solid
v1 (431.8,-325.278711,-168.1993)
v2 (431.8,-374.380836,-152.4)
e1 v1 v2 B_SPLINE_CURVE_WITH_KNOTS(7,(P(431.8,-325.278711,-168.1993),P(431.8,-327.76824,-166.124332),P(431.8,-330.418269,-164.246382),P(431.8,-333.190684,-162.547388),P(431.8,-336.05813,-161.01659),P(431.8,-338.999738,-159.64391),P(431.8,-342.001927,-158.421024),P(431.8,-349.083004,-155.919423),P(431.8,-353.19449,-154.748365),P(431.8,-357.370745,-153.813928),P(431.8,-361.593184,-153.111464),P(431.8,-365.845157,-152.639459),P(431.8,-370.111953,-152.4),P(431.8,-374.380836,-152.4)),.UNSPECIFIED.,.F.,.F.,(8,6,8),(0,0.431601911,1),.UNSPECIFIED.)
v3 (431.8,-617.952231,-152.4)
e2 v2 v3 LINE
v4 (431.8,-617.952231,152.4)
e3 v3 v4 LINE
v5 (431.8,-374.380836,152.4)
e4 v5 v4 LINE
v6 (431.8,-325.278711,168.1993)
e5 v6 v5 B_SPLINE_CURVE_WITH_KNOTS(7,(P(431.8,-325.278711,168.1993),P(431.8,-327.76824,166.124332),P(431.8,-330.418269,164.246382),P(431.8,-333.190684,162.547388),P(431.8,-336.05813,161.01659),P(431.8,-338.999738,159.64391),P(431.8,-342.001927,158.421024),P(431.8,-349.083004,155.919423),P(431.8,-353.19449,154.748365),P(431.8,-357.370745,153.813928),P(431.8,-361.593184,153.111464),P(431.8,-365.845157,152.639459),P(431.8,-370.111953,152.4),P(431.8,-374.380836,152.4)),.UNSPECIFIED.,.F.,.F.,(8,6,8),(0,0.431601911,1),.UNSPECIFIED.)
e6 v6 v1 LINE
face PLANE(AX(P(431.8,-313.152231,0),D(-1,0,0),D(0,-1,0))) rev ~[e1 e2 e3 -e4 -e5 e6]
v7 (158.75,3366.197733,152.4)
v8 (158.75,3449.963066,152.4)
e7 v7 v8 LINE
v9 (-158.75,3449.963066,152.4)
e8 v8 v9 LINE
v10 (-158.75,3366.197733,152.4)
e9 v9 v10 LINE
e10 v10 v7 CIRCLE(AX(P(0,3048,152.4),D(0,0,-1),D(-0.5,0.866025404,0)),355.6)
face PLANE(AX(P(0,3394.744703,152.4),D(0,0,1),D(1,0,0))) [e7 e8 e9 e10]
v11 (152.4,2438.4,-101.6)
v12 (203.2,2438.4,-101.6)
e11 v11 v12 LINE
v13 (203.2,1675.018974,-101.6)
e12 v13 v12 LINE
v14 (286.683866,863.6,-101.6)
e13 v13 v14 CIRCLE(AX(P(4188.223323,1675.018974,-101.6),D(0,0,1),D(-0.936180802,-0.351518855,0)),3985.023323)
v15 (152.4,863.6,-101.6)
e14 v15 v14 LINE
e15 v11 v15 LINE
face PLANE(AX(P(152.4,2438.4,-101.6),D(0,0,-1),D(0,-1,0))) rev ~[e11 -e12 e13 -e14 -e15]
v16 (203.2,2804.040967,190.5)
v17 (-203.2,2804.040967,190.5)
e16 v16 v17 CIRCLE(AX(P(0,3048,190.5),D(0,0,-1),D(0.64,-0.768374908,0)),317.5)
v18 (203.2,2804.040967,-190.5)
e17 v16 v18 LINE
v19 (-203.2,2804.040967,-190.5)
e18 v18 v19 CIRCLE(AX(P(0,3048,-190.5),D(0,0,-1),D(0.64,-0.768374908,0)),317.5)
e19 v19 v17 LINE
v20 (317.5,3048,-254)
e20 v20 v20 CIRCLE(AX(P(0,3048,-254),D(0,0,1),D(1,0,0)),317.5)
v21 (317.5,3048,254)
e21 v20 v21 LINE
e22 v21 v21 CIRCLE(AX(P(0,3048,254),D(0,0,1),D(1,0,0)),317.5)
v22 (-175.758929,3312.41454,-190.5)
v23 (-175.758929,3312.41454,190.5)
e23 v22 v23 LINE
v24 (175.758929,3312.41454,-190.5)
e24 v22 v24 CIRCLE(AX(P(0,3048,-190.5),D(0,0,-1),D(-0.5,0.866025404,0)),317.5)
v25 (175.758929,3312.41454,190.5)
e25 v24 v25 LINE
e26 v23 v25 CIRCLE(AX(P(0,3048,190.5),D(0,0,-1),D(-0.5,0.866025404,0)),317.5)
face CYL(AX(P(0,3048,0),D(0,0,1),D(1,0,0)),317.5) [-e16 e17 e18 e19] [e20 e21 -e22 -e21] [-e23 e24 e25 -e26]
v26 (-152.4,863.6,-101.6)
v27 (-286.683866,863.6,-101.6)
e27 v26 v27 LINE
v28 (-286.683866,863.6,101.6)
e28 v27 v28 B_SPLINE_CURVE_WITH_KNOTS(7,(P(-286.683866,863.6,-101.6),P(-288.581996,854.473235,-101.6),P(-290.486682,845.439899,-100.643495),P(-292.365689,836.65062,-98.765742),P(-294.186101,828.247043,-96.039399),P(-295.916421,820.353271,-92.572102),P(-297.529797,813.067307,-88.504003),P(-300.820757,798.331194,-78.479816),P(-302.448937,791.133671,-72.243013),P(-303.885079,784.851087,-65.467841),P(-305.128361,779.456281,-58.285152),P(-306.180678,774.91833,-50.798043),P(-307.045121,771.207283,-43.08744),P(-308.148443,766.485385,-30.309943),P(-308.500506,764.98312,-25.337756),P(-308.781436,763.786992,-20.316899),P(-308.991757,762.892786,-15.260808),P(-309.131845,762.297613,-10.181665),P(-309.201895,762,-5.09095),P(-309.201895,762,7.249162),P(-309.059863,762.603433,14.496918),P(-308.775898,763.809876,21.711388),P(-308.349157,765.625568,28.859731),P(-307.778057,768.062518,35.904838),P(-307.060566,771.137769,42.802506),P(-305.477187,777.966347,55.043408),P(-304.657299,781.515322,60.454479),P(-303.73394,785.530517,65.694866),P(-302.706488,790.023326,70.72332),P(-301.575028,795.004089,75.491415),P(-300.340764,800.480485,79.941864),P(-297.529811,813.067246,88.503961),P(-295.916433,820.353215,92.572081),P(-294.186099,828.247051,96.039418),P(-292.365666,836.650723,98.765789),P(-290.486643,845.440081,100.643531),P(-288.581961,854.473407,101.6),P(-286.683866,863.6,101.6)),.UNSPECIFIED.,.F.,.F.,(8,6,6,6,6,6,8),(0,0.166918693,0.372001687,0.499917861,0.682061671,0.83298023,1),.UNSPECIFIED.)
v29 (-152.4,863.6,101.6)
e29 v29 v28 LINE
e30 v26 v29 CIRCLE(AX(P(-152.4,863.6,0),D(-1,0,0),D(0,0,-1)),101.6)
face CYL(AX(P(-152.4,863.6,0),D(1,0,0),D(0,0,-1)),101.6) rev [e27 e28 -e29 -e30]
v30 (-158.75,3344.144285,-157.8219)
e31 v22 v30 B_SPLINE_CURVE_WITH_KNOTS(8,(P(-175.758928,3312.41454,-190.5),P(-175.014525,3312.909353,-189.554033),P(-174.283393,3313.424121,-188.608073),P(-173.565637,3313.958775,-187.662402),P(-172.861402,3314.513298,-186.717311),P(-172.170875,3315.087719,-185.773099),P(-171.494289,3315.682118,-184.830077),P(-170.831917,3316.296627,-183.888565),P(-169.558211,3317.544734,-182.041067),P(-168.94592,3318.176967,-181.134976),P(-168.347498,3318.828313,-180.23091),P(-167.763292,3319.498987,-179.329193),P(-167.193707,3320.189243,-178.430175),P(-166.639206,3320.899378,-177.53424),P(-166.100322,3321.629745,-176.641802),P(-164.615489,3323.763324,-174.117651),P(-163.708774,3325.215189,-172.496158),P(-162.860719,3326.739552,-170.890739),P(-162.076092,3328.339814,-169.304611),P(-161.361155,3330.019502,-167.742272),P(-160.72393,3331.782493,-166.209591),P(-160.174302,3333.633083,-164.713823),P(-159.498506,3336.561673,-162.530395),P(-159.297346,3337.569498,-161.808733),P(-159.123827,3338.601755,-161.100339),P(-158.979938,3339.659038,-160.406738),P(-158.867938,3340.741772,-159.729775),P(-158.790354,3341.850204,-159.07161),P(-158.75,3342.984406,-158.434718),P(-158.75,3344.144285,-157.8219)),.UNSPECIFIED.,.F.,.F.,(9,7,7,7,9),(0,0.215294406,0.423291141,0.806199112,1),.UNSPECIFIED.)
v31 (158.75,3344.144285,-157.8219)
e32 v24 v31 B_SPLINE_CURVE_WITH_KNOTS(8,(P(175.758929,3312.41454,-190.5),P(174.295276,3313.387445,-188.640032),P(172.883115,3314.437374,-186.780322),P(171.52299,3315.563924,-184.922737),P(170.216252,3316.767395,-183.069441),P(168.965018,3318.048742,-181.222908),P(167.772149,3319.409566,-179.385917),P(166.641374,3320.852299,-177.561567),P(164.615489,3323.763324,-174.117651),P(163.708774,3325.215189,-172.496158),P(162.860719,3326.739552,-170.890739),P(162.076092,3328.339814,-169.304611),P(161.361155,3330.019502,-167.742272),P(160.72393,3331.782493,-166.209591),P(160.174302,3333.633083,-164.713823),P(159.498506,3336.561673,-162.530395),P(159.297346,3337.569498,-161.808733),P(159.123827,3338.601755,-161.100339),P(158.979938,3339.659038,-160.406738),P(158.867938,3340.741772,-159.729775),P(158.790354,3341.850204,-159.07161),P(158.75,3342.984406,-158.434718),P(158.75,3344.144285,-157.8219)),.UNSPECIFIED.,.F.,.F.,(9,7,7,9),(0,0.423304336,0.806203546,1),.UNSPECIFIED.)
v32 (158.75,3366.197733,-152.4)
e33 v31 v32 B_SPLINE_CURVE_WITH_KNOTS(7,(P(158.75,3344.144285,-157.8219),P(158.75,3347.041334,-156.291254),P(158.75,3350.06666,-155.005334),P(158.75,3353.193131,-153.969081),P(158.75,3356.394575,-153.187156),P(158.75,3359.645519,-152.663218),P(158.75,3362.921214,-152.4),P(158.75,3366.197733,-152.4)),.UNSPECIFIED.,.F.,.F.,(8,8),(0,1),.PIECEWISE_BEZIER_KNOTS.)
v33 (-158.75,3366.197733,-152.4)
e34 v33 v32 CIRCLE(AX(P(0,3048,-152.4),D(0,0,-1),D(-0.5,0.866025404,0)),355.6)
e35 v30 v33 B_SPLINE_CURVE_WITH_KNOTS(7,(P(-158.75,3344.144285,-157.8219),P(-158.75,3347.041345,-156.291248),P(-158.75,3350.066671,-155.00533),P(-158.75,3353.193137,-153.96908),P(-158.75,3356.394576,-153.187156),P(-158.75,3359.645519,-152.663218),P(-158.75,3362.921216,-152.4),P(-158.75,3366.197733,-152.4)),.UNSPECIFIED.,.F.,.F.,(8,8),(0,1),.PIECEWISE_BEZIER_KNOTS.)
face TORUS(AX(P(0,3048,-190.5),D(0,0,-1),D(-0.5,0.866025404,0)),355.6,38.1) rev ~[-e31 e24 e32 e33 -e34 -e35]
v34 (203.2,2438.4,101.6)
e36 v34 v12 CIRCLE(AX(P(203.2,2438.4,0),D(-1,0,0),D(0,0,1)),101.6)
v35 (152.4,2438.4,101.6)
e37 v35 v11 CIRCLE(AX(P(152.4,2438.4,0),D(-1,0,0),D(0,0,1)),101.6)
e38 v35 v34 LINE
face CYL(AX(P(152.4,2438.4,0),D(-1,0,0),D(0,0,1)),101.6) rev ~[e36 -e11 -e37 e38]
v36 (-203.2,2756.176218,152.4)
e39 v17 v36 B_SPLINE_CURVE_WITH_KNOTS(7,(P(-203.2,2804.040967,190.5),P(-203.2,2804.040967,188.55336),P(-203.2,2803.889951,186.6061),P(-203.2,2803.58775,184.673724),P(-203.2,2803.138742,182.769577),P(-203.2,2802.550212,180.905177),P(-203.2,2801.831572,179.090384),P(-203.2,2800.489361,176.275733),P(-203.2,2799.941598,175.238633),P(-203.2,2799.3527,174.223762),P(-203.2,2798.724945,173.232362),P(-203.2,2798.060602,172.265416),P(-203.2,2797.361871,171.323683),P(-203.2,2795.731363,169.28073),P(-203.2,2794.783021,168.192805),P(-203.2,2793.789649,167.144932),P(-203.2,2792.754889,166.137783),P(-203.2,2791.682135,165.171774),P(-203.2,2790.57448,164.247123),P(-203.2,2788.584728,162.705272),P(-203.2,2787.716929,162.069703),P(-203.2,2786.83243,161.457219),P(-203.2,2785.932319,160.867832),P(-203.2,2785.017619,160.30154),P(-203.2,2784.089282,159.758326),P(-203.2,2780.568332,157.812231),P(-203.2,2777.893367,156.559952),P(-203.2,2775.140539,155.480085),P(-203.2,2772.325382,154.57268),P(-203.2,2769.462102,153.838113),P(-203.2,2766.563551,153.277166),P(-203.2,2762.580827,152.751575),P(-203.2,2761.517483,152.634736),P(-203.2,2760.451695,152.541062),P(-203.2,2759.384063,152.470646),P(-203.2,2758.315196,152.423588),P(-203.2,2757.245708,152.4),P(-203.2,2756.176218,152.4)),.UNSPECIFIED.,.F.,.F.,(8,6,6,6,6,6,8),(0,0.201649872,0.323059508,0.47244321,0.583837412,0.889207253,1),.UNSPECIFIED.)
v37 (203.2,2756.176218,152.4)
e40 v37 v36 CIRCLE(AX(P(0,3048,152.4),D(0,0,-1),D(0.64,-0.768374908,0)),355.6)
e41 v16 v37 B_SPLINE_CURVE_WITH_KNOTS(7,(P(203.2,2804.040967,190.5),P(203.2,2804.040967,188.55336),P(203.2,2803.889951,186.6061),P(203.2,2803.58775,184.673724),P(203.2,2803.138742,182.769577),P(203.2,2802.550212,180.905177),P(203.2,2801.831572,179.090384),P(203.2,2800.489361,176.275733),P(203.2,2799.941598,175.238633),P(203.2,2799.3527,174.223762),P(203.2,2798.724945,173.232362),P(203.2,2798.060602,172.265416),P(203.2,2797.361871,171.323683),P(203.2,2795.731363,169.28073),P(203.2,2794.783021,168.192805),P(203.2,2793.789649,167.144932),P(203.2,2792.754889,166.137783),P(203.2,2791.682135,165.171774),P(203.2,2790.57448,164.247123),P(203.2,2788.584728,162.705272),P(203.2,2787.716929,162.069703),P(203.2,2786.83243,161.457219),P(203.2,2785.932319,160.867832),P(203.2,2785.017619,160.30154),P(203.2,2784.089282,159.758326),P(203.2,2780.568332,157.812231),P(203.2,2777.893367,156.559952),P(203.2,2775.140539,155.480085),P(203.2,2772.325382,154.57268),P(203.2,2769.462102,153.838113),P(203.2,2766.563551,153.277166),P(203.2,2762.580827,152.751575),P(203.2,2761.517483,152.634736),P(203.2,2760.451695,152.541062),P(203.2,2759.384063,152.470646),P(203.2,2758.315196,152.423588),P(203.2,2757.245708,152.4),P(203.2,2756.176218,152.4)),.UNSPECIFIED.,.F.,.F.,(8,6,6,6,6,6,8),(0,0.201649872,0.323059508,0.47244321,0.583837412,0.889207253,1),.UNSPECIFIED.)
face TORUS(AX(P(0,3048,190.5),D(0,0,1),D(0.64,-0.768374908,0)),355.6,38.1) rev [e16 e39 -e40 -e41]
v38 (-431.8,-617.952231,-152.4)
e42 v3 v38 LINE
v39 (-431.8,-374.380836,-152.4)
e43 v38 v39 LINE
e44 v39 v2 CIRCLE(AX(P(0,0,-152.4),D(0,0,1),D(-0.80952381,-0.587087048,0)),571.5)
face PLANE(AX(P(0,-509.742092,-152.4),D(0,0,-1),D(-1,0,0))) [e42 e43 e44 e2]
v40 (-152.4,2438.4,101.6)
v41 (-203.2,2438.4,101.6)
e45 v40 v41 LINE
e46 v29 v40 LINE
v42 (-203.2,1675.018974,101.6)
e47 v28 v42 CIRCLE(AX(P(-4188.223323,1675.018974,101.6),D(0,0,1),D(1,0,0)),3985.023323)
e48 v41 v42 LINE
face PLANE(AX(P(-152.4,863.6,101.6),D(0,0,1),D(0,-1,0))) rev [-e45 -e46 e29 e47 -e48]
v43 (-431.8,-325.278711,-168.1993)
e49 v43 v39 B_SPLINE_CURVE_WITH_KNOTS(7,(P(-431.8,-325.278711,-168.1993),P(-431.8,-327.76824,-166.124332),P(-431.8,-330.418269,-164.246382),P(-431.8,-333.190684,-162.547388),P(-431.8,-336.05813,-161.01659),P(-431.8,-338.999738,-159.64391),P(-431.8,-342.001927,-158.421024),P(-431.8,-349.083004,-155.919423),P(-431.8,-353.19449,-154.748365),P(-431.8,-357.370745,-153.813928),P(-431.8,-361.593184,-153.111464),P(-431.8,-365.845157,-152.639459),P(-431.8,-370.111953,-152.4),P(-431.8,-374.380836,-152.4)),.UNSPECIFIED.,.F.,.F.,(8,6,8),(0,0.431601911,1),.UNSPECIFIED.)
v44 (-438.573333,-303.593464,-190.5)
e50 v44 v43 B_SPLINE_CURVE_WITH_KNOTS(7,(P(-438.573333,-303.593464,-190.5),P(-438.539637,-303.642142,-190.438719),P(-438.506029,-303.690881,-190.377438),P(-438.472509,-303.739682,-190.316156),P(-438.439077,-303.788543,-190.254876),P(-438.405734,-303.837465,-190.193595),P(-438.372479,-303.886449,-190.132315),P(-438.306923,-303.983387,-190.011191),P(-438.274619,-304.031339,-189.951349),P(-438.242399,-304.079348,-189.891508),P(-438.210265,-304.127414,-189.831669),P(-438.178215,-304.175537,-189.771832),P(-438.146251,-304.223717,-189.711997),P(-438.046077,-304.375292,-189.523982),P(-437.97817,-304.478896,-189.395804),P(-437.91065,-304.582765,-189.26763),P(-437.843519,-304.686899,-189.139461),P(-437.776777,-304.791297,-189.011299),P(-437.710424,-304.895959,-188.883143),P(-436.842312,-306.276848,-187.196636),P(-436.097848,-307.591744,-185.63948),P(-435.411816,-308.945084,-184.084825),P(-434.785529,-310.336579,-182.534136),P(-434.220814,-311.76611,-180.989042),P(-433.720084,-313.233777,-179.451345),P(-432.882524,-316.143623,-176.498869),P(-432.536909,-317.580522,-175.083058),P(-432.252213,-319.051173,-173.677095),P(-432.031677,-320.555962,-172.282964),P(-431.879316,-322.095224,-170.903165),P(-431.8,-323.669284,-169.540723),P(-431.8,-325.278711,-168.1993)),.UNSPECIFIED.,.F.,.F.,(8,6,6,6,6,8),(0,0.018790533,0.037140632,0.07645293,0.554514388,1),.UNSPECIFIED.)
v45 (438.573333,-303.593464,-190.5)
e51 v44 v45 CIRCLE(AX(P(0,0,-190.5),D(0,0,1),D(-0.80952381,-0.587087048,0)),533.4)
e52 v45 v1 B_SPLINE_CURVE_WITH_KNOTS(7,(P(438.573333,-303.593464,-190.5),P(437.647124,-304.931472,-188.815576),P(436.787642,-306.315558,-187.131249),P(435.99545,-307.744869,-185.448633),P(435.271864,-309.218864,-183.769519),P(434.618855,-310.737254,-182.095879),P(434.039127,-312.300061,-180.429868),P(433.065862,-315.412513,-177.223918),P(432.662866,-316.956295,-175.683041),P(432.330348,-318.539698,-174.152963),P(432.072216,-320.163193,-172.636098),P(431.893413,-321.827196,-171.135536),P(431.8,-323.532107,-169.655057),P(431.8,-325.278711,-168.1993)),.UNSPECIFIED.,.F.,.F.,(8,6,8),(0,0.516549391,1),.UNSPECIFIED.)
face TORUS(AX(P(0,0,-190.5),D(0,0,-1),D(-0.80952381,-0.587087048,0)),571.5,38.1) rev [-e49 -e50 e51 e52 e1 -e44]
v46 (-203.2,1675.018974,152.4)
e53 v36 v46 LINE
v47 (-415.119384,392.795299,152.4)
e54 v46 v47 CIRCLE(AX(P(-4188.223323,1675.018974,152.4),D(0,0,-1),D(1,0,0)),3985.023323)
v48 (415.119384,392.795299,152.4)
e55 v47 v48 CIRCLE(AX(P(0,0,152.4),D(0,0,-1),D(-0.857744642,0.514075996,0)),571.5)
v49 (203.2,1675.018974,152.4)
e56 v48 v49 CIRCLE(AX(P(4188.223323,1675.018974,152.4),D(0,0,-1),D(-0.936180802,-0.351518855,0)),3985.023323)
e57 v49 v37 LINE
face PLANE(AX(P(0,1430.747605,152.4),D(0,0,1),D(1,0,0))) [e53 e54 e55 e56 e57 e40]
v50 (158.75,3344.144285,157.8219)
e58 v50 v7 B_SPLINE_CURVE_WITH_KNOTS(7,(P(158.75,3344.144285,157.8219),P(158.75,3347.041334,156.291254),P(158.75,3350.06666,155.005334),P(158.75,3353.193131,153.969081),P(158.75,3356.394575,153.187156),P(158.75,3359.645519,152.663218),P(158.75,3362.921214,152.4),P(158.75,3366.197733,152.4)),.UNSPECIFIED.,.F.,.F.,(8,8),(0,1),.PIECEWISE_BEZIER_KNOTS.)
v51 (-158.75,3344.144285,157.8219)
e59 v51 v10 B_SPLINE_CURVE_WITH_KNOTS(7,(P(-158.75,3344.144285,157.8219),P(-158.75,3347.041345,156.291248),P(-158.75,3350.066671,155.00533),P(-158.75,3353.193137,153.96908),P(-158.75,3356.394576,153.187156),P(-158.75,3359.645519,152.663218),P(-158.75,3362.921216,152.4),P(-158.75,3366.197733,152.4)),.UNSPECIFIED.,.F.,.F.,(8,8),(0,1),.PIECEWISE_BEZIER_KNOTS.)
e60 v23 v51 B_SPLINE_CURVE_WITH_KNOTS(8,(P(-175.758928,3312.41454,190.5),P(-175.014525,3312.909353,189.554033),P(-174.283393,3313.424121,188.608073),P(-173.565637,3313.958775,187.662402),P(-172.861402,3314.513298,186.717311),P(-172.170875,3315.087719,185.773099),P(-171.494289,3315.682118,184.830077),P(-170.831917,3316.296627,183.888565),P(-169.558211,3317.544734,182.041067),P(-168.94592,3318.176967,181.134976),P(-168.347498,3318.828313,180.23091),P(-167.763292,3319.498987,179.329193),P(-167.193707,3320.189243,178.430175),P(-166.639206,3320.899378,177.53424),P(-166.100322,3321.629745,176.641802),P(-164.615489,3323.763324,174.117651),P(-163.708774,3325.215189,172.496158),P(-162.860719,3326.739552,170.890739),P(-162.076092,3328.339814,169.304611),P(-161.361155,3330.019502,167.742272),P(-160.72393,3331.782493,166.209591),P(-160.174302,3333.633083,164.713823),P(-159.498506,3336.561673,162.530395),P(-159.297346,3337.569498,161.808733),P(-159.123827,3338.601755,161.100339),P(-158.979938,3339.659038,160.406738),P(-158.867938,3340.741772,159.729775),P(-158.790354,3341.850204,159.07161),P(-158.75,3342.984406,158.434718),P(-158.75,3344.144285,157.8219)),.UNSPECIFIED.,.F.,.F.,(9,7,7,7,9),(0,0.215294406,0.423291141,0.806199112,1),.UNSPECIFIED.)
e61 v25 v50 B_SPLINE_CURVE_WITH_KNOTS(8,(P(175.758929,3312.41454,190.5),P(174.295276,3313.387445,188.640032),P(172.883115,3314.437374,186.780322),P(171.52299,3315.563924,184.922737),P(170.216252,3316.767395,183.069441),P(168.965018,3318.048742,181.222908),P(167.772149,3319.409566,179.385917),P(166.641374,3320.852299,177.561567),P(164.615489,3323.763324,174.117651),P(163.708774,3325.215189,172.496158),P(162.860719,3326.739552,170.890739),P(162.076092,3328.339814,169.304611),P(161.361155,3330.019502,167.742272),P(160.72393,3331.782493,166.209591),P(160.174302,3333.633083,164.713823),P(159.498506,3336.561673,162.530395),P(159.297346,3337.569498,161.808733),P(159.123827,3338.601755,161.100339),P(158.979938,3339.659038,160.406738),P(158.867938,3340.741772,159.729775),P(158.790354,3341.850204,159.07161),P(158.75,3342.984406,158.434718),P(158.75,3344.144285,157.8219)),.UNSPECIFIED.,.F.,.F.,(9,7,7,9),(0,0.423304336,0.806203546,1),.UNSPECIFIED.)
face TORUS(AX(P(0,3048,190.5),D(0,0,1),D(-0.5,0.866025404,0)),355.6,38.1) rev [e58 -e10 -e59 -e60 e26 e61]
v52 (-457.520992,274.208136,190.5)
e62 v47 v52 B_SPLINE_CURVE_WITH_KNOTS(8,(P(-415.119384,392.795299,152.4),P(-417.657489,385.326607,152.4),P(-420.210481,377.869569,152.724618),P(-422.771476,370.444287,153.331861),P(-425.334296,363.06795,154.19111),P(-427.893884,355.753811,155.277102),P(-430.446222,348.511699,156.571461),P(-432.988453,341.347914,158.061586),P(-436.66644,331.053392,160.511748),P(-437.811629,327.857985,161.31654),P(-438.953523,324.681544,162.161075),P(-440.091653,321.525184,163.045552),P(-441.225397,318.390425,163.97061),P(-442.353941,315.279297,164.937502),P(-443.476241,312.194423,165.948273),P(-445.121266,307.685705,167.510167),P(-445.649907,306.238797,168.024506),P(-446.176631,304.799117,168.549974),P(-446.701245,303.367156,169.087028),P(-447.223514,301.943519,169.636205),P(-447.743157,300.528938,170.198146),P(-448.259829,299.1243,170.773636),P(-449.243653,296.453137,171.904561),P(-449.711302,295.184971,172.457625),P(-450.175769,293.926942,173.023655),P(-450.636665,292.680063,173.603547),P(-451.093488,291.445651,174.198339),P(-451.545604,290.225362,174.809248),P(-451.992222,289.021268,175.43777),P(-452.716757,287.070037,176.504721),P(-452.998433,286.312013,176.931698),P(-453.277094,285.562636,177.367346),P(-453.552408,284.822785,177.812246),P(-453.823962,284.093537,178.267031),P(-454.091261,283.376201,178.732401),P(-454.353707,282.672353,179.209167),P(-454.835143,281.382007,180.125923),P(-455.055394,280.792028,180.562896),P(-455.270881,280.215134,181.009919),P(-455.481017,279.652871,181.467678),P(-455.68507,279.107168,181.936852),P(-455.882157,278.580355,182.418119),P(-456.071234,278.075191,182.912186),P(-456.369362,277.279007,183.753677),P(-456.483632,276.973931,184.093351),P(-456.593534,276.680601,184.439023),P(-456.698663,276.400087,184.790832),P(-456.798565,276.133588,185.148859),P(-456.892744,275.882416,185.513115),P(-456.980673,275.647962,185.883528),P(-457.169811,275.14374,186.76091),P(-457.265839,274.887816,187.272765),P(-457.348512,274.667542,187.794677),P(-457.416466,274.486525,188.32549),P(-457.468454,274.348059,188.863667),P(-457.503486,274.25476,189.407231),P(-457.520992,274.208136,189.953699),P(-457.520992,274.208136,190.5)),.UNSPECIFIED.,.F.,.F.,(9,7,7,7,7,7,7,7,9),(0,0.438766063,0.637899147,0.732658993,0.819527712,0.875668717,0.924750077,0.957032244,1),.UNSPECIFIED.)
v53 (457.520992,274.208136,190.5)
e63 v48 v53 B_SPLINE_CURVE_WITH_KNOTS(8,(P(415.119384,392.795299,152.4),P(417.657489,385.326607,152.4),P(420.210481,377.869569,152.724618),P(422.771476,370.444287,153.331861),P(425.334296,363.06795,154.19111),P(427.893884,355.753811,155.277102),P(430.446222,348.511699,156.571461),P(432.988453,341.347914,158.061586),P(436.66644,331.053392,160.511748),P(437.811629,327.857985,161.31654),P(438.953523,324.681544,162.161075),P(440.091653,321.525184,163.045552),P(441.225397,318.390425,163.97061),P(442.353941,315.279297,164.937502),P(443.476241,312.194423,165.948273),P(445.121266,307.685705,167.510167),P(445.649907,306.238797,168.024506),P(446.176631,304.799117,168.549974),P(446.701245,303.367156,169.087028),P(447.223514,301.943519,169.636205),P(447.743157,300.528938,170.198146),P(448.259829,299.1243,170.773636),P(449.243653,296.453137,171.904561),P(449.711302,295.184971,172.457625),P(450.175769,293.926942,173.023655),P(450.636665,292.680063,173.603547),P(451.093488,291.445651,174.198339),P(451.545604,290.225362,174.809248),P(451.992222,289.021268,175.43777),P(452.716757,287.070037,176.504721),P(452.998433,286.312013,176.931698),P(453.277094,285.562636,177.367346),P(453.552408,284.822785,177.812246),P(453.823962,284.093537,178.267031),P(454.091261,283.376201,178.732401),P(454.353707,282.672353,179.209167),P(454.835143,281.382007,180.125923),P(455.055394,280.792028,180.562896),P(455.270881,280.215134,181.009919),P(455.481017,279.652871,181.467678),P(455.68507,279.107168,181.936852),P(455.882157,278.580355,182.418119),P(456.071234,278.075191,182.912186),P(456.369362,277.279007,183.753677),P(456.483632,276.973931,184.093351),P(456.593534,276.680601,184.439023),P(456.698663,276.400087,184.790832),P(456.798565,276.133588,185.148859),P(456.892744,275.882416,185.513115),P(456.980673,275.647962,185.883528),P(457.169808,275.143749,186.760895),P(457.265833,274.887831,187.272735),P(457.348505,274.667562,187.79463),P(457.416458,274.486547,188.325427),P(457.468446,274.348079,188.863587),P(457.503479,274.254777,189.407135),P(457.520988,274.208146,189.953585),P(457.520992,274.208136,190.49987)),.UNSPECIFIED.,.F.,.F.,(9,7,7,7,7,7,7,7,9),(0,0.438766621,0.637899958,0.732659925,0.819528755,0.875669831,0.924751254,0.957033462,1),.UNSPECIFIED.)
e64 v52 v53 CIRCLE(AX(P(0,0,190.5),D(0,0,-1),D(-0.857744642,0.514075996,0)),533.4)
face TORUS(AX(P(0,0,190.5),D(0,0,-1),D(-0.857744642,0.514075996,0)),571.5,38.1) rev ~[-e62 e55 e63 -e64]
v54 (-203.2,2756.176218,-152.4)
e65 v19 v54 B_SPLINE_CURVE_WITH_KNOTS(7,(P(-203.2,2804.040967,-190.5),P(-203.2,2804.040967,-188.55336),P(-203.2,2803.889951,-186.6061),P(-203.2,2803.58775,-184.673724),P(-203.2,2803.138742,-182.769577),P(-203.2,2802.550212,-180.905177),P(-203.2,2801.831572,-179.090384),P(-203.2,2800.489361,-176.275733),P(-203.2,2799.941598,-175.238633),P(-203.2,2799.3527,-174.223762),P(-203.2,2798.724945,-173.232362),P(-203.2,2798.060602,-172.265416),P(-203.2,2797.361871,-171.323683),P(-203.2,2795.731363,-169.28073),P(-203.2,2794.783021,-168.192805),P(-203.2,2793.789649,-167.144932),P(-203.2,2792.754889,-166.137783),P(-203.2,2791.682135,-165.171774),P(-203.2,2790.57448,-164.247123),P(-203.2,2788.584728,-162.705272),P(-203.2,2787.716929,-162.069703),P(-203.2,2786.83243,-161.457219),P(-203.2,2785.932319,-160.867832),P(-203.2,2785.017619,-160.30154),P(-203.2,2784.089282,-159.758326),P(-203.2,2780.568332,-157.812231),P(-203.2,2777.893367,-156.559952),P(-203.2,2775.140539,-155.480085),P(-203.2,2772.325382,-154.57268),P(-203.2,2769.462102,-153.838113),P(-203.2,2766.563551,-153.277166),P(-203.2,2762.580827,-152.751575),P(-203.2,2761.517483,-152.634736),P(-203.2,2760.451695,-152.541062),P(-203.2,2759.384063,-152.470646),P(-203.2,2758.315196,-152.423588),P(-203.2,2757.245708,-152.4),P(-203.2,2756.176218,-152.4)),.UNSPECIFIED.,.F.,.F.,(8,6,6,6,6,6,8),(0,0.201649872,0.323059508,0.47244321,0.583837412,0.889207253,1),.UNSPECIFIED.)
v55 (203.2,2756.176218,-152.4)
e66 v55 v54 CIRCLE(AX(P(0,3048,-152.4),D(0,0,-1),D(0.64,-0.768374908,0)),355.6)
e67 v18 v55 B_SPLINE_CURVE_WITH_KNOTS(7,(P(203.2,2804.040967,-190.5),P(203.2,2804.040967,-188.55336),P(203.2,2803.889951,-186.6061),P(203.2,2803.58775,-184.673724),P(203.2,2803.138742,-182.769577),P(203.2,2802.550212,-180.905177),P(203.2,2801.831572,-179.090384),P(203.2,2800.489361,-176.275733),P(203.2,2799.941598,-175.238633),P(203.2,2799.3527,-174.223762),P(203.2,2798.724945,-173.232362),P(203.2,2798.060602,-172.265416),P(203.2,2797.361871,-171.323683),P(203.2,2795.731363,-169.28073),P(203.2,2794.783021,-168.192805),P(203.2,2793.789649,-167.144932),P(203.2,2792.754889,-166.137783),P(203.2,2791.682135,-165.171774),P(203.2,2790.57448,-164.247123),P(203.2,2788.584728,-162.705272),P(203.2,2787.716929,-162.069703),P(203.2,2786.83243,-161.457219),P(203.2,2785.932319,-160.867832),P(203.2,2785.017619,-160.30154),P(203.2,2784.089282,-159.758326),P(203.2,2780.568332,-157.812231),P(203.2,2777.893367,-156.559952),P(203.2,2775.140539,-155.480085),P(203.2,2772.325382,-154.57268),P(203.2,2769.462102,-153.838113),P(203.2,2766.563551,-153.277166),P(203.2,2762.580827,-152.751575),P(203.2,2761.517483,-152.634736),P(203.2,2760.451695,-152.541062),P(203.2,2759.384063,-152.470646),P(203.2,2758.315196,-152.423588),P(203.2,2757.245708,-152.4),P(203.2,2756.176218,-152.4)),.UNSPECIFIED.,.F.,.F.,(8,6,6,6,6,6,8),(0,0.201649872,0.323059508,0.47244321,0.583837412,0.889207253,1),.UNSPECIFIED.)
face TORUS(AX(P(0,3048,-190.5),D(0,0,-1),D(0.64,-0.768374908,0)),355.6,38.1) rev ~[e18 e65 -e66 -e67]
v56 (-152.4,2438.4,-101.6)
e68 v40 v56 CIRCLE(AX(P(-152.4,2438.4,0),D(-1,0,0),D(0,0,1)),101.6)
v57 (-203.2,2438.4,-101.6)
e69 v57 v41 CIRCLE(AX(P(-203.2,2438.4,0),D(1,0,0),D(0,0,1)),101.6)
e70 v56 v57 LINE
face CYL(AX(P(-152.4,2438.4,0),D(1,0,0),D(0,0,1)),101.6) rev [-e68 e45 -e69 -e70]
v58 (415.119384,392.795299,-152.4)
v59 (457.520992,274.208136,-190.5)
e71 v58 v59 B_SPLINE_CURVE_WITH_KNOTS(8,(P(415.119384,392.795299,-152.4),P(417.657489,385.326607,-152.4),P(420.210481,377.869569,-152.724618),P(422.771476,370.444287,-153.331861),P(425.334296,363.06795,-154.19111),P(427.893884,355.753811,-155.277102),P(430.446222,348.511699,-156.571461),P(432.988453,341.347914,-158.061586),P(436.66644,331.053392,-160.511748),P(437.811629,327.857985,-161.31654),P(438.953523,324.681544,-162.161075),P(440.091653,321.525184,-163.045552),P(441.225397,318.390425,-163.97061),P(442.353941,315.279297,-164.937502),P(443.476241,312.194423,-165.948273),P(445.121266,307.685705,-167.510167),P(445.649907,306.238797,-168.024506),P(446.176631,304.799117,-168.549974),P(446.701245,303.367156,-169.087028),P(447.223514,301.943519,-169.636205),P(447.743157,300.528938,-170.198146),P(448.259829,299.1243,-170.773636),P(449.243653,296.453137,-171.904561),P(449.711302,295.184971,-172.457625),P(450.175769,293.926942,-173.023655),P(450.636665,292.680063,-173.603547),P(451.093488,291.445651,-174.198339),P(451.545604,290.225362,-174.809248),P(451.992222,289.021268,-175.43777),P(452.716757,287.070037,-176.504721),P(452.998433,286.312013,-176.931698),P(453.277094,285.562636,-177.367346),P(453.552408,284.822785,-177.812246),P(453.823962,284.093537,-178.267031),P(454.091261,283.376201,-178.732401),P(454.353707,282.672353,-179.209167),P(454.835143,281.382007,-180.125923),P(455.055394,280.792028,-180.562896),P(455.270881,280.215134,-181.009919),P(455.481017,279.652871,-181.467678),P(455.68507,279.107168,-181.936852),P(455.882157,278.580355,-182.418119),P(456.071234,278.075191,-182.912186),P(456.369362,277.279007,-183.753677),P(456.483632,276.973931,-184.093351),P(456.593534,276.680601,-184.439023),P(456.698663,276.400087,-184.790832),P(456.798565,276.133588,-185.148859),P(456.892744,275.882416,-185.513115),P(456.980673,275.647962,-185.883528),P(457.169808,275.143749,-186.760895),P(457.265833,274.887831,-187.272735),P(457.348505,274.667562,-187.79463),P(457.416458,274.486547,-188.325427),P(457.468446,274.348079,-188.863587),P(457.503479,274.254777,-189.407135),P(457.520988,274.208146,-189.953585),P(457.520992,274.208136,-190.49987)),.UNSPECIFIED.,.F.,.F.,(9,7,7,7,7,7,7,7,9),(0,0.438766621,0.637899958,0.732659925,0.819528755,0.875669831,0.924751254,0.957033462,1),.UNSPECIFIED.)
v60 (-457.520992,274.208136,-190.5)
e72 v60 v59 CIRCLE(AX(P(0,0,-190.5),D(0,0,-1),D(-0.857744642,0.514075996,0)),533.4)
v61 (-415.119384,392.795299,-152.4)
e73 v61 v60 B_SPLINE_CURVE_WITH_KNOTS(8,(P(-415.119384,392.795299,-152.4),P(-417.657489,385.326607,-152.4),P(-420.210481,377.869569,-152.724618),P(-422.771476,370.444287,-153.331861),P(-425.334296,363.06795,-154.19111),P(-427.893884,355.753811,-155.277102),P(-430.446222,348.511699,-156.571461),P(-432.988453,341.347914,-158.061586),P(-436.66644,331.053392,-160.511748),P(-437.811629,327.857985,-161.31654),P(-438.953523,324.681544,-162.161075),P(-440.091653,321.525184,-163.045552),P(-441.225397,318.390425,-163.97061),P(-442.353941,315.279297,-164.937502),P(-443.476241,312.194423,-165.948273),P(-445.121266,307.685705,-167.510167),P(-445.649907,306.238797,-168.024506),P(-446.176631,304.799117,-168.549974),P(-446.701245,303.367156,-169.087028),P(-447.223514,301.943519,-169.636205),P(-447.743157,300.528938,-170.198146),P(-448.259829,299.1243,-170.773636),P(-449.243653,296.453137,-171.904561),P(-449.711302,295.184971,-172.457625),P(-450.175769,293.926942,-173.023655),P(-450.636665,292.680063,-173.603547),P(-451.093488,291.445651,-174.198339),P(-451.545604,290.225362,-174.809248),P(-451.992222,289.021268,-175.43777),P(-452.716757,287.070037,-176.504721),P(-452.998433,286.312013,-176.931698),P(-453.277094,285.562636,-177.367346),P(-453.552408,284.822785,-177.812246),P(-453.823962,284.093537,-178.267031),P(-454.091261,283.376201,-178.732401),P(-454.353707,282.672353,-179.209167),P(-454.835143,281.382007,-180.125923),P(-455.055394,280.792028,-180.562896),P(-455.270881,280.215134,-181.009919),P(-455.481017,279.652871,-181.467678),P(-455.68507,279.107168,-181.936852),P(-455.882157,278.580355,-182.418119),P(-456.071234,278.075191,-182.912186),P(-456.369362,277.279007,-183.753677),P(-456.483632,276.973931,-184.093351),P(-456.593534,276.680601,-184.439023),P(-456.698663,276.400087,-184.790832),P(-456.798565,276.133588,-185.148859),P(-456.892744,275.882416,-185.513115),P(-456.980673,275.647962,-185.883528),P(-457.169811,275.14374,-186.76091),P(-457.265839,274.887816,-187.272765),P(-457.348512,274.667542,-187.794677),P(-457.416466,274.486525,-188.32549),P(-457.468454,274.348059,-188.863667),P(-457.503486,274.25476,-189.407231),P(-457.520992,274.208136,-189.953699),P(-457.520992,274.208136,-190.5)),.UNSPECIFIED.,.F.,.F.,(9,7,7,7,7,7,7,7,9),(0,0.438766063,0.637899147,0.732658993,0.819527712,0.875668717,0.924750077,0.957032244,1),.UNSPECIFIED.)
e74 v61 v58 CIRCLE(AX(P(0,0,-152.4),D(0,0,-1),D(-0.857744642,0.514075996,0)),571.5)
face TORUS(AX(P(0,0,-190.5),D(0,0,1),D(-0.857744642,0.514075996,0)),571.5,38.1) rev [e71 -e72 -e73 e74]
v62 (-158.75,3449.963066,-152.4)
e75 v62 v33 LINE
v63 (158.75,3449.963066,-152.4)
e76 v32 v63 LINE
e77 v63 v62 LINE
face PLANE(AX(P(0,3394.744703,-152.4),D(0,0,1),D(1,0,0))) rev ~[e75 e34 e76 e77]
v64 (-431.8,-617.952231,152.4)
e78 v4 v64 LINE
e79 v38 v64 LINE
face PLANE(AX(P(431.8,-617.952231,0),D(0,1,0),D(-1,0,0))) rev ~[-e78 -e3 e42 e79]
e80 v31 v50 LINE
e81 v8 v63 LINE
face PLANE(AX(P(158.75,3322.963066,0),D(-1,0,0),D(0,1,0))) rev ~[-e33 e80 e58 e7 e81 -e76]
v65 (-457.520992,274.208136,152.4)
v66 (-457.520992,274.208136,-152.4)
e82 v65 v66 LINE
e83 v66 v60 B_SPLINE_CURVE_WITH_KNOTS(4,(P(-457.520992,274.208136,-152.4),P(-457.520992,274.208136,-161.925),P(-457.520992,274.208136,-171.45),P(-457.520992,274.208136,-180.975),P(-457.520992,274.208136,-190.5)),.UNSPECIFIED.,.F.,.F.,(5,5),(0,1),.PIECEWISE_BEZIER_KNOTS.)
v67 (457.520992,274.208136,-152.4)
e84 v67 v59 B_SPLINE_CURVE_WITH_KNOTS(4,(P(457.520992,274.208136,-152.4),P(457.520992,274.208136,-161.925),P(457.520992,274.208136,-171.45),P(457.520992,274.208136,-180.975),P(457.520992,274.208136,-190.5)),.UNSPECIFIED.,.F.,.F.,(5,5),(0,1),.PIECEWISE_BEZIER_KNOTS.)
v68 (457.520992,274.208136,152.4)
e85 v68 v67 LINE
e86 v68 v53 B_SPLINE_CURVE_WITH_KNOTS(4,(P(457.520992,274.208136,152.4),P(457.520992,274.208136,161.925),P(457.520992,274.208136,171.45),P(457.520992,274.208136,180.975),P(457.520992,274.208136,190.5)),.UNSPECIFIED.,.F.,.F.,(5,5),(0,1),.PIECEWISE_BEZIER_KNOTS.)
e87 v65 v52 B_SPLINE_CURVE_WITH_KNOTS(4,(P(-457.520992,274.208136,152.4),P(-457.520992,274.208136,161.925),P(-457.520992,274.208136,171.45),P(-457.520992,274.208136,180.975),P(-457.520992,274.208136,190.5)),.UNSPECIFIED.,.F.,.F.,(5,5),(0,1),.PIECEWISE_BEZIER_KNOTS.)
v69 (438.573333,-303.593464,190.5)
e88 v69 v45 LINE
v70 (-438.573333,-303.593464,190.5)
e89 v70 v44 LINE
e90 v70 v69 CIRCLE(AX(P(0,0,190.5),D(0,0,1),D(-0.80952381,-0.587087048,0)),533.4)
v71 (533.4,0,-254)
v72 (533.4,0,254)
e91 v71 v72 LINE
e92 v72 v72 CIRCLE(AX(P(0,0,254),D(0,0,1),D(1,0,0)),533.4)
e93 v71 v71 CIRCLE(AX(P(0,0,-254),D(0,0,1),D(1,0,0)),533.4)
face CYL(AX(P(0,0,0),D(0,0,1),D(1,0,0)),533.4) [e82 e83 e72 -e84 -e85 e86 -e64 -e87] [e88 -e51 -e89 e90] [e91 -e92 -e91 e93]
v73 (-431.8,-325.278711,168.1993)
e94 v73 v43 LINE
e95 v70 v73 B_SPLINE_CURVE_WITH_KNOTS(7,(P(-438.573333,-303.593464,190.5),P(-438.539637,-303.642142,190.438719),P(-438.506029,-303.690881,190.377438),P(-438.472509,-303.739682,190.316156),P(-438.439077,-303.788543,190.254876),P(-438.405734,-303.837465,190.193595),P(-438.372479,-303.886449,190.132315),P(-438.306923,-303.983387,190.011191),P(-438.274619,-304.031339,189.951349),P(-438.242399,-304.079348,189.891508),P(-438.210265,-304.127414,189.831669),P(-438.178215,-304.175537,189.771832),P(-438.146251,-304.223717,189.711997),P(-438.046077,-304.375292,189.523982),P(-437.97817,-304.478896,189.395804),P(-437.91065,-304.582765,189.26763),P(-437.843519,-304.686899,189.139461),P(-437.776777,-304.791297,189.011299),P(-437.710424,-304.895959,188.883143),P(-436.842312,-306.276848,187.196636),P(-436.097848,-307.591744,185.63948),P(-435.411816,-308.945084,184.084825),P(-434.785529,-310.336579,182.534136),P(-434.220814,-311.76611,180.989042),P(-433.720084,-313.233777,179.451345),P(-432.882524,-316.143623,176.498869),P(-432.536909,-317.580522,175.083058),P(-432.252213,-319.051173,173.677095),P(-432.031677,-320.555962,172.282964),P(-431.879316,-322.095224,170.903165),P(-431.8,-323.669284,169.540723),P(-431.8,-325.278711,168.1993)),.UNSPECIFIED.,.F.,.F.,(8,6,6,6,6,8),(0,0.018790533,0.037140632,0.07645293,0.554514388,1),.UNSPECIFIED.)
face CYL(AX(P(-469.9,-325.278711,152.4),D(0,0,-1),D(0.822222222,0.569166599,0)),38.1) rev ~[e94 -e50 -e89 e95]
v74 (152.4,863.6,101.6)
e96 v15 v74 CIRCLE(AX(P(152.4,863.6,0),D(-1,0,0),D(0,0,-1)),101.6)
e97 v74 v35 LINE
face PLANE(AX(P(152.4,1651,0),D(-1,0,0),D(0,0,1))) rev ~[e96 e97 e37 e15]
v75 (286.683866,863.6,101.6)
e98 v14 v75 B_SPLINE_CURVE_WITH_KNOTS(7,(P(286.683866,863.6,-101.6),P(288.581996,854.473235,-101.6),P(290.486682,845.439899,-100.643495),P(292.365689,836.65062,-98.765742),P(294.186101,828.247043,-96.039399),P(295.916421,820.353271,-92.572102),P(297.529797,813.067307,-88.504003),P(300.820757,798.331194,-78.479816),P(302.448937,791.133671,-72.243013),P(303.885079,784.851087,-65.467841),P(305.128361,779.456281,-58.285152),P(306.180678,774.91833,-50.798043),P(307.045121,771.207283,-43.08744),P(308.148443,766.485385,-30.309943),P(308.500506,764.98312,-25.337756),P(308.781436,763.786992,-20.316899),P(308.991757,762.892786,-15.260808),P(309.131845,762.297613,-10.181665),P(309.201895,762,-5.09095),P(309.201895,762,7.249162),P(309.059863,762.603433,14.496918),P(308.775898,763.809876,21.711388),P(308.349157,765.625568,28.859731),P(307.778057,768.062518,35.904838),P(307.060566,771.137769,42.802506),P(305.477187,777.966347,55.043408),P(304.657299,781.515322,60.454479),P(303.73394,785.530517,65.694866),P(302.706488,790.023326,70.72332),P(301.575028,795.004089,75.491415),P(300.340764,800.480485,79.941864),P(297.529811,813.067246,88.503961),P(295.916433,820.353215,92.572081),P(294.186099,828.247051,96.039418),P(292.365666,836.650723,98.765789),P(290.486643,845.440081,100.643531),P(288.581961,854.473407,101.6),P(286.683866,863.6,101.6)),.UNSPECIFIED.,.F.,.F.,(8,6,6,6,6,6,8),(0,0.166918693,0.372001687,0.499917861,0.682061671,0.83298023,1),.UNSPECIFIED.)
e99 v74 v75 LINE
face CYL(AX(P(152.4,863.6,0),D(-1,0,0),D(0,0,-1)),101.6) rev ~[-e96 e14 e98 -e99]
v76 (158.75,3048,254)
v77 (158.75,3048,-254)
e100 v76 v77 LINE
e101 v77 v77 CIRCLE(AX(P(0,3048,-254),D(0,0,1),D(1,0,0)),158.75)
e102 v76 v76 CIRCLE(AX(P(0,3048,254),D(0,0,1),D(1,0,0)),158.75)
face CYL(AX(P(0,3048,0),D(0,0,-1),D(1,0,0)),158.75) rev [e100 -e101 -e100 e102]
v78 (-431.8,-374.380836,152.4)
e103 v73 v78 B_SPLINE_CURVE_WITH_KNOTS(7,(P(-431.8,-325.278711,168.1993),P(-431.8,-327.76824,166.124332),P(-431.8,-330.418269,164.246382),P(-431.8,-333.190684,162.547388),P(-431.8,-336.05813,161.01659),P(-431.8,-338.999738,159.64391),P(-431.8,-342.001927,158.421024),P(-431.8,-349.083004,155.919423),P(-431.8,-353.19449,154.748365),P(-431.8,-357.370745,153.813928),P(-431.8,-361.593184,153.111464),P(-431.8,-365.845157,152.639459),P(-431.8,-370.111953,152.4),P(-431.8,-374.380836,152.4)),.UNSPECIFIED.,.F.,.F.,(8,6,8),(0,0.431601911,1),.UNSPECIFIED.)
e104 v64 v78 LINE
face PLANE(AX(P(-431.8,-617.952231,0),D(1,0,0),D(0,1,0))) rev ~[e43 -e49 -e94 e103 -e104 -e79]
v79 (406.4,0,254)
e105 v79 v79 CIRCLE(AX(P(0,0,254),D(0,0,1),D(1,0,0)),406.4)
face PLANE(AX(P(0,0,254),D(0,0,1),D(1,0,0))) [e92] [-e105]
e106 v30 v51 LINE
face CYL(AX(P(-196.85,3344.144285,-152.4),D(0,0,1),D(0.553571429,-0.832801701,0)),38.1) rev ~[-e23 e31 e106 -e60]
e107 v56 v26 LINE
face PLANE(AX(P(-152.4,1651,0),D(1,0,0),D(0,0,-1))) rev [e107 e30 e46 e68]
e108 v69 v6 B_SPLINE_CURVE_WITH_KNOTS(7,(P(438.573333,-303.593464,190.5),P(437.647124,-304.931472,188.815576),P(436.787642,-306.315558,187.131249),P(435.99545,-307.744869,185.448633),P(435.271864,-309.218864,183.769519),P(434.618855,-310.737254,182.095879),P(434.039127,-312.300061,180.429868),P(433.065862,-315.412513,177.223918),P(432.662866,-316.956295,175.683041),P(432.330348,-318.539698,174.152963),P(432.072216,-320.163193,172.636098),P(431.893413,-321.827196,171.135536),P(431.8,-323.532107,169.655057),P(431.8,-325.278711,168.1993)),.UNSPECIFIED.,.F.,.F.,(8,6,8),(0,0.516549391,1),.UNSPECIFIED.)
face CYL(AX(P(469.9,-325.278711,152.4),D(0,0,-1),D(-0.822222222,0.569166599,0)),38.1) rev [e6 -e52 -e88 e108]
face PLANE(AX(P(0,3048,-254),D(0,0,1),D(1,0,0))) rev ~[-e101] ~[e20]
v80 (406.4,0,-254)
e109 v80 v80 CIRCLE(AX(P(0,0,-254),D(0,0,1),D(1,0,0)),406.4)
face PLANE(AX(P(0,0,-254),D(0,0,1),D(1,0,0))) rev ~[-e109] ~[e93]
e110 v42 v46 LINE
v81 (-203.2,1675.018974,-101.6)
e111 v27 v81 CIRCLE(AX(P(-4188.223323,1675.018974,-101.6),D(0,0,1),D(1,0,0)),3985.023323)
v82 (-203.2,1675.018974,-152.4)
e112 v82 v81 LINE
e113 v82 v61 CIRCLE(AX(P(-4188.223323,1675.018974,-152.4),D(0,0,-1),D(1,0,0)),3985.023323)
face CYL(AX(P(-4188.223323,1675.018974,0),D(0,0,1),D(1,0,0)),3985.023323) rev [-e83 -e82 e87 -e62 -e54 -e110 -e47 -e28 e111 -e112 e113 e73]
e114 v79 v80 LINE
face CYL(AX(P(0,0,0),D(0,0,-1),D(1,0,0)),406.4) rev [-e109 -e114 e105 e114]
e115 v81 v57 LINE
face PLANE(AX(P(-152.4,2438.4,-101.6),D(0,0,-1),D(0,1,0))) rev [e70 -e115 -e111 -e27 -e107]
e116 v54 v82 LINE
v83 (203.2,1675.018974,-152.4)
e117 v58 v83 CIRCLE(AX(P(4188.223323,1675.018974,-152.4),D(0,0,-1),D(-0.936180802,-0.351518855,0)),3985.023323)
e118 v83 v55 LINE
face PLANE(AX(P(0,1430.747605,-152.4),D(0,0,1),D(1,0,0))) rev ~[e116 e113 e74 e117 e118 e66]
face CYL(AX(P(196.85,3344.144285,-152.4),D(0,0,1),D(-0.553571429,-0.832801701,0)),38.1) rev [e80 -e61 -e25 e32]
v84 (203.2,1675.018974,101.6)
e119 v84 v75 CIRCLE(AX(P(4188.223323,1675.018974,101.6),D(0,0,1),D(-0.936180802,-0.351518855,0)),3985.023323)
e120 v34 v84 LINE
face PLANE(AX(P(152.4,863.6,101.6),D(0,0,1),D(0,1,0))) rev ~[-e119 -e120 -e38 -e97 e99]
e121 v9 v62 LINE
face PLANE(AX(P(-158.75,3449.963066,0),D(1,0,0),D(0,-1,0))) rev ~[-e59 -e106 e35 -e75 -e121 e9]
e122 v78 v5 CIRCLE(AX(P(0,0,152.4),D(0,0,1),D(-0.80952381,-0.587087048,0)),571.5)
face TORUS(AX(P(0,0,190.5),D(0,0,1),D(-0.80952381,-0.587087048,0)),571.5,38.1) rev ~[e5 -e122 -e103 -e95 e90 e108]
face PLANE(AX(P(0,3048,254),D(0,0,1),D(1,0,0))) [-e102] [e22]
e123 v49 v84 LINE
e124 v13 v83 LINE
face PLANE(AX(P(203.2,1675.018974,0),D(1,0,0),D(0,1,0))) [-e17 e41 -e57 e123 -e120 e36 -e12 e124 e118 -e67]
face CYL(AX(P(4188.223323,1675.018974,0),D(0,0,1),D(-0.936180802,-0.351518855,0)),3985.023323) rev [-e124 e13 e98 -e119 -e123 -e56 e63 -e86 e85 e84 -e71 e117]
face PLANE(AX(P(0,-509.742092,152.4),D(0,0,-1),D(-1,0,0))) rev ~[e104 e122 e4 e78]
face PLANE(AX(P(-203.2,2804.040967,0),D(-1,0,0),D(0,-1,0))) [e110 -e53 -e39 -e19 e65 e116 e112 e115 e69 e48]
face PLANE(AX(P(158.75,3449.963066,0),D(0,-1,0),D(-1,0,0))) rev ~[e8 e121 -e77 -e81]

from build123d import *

# Parameters (mm, degrees)
SKETCH1_R             = 533.4
SKETCH1_R_2           = 406.4
BOSS_EXTRUDE1_DEPTH   = 254
SKETCH1_R_3           = 317.5
SKETCH1_R_4           = 158.75
BOSS_EXTRUDE1_2_DEPTH = 254
BOSS_EXTRUDE3_DEPTH   = 152.4
BOSS_EXTRUDE4_DEPTH   = 152.4
FILLET1_R             = 38.1
FILLET2_R             = 38.1
FILLET3_R             = 38.1
CUT_EXTRUDE2_DEPTH    = 1331.976


with BuildPart() as part:
    # Sketch1 → Boss-Extrude1 (new body, symmetric)
    with BuildSketch(Plane.XY):
        Circle(SKETCH1_R)
        Circle(SKETCH1_R_2, mode=Mode.SUBTRACT)
    extrude(amount=BOSS_EXTRUDE1_DEPTH, both=True)



with BuildPart() as body_2:
    # Sketch1 → Boss-Extrude1 2 (new body, symmetric)
    with BuildSketch(Plane.XY):
        with Locations((0, 3048)):
            Circle(SKETCH1_R_3)
        with Locations((0, 3048)):
            Circle(SKETCH1_R_4, mode=Mode.SUBTRACT)
    extrude(amount=BOSS_EXTRUDE1_2_DEPTH, both=True)


with BuildPart() as part_1:
    add(part.part)

    add(body_2.part)  # Boss-Extrude3 merges body 2
    # Sketch3 → Boss-Extrude3 (add, symmetric)
    with BuildSketch(Plane.XY):
        with BuildLine():
            Line((203.2, 1675.01897356), (203.2, 2804.040966554))
            ThreePointArc((203.2, 2804.040966554), (0, 2730.5), (-203.2, 2804.040966554))
            Line((-203.2, 2804.040966554), (-203.2, 1675.01897356))
            ThreePointArc((-203.2, 1675.01897356), (-267.2957105, 963.163972593), (-457.520992032, 274.208136003))
            ThreePointArc((-457.520992032, 274.208136003), (0, 533.4), (457.520992032, 274.208136003))
            ThreePointArc((457.520992032, 274.208136003), (267.2957105, 963.163972593), (203.2, 1675.01897356))
        make_face()
    extrude(amount=BOSS_EXTRUDE3_DEPTH, both=True)

    # Sketch6 → Boss-Extrude4 (add, symmetric)
    with BuildSketch(Plane.XY):
        with BuildLine():
            Line((-158.75, 3449.963065702), (-158.75, 3322.963065702))
            ThreePointArc((-158.75, 3322.963065702), (0, 3365.5), (158.75, 3322.963065702))
            Line((158.75, 3322.963065702), (158.75, 3449.963065702))
            Line((158.75, 3449.963065702), (-158.75, 3449.963065702))
        make_face()
        with BuildLine():
            Line((-431.8, -617.952231351), (-431.8, -313.152231351))
            ThreePointArc((-431.8, -313.152231351), (0, -533.4), (431.8, -313.152231351))
            Line((431.8, -313.152231351), (431.8, -617.952231351))
            Line((431.8, -617.952231351), (-431.8, -617.952231351))
        make_face()
    extrude(amount=BOSS_EXTRUDE4_DEPTH, both=True)

    # Fillet1
    fillet1_edges = [part_1.edges().sort_by_distance(p)[0] for p in [
        (158.75, 3322.963065702, 0),
        (0, 3365.5, 152.4),
        (-158.75, 3322.963065702, 0),
        (0, 3365.5, -152.4),
    ]]
    fillet(fillet1_edges, radius=FILLET1_R)

    # Fillet2
    fillet2_edges = [part_1.edges().sort_by_distance(p)[0] for p in [
        (0, 2730.5, 152.4),
        (0, 533.4, 152.4),
        (0, 2730.5, -152.4),
        (0, 533.4, -152.4),
    ]]
    fillet(fillet2_edges, radius=FILLET2_R)

    # Fillet3
    fillet3_edges = [part_1.edges().sort_by_distance(p)[0] for p in [
        (-431.8, -313.152231351, 0),
        (0, -533.4, 152.4),
        (431.8, -313.152231351, 0),
        (0, -533.4, -152.4),
    ]]
    fillet(fillet3_edges, radius=FILLET3_R)

    # Sketch7 → Cut-Extrude2 (cut)
    with BuildSketch(Plane(origin=(152.4, 0, 0), x_dir=(0, 0, -1), z_dir=(1, 0, 0))):
        with BuildLine():
            Line((101.6, 2438.4), (101.6, 863.6))
            ThreePointArc((101.6, 863.6), (0, 762), (-101.6, 863.6))
            Line((-101.6, 863.6), (-101.6, 2438.4))
            ThreePointArc((-101.6, 2438.4), (0, 2540), (101.6, 2438.4))
        make_face()
    cut_extrude2 = extrude(amount=CUT_EXTRUDE2_DEPTH, mode=Mode.SUBTRACT)

    # Mirror1: Cut-Extrude2 across plane
    add(cut_extrude2.mirror(Plane(origin=(0, 0, 0), x_dir=(0, 0, 1), z_dir=(1, 0, 0))), mode=Mode.SUBTRACT)


solid = part_1.part
